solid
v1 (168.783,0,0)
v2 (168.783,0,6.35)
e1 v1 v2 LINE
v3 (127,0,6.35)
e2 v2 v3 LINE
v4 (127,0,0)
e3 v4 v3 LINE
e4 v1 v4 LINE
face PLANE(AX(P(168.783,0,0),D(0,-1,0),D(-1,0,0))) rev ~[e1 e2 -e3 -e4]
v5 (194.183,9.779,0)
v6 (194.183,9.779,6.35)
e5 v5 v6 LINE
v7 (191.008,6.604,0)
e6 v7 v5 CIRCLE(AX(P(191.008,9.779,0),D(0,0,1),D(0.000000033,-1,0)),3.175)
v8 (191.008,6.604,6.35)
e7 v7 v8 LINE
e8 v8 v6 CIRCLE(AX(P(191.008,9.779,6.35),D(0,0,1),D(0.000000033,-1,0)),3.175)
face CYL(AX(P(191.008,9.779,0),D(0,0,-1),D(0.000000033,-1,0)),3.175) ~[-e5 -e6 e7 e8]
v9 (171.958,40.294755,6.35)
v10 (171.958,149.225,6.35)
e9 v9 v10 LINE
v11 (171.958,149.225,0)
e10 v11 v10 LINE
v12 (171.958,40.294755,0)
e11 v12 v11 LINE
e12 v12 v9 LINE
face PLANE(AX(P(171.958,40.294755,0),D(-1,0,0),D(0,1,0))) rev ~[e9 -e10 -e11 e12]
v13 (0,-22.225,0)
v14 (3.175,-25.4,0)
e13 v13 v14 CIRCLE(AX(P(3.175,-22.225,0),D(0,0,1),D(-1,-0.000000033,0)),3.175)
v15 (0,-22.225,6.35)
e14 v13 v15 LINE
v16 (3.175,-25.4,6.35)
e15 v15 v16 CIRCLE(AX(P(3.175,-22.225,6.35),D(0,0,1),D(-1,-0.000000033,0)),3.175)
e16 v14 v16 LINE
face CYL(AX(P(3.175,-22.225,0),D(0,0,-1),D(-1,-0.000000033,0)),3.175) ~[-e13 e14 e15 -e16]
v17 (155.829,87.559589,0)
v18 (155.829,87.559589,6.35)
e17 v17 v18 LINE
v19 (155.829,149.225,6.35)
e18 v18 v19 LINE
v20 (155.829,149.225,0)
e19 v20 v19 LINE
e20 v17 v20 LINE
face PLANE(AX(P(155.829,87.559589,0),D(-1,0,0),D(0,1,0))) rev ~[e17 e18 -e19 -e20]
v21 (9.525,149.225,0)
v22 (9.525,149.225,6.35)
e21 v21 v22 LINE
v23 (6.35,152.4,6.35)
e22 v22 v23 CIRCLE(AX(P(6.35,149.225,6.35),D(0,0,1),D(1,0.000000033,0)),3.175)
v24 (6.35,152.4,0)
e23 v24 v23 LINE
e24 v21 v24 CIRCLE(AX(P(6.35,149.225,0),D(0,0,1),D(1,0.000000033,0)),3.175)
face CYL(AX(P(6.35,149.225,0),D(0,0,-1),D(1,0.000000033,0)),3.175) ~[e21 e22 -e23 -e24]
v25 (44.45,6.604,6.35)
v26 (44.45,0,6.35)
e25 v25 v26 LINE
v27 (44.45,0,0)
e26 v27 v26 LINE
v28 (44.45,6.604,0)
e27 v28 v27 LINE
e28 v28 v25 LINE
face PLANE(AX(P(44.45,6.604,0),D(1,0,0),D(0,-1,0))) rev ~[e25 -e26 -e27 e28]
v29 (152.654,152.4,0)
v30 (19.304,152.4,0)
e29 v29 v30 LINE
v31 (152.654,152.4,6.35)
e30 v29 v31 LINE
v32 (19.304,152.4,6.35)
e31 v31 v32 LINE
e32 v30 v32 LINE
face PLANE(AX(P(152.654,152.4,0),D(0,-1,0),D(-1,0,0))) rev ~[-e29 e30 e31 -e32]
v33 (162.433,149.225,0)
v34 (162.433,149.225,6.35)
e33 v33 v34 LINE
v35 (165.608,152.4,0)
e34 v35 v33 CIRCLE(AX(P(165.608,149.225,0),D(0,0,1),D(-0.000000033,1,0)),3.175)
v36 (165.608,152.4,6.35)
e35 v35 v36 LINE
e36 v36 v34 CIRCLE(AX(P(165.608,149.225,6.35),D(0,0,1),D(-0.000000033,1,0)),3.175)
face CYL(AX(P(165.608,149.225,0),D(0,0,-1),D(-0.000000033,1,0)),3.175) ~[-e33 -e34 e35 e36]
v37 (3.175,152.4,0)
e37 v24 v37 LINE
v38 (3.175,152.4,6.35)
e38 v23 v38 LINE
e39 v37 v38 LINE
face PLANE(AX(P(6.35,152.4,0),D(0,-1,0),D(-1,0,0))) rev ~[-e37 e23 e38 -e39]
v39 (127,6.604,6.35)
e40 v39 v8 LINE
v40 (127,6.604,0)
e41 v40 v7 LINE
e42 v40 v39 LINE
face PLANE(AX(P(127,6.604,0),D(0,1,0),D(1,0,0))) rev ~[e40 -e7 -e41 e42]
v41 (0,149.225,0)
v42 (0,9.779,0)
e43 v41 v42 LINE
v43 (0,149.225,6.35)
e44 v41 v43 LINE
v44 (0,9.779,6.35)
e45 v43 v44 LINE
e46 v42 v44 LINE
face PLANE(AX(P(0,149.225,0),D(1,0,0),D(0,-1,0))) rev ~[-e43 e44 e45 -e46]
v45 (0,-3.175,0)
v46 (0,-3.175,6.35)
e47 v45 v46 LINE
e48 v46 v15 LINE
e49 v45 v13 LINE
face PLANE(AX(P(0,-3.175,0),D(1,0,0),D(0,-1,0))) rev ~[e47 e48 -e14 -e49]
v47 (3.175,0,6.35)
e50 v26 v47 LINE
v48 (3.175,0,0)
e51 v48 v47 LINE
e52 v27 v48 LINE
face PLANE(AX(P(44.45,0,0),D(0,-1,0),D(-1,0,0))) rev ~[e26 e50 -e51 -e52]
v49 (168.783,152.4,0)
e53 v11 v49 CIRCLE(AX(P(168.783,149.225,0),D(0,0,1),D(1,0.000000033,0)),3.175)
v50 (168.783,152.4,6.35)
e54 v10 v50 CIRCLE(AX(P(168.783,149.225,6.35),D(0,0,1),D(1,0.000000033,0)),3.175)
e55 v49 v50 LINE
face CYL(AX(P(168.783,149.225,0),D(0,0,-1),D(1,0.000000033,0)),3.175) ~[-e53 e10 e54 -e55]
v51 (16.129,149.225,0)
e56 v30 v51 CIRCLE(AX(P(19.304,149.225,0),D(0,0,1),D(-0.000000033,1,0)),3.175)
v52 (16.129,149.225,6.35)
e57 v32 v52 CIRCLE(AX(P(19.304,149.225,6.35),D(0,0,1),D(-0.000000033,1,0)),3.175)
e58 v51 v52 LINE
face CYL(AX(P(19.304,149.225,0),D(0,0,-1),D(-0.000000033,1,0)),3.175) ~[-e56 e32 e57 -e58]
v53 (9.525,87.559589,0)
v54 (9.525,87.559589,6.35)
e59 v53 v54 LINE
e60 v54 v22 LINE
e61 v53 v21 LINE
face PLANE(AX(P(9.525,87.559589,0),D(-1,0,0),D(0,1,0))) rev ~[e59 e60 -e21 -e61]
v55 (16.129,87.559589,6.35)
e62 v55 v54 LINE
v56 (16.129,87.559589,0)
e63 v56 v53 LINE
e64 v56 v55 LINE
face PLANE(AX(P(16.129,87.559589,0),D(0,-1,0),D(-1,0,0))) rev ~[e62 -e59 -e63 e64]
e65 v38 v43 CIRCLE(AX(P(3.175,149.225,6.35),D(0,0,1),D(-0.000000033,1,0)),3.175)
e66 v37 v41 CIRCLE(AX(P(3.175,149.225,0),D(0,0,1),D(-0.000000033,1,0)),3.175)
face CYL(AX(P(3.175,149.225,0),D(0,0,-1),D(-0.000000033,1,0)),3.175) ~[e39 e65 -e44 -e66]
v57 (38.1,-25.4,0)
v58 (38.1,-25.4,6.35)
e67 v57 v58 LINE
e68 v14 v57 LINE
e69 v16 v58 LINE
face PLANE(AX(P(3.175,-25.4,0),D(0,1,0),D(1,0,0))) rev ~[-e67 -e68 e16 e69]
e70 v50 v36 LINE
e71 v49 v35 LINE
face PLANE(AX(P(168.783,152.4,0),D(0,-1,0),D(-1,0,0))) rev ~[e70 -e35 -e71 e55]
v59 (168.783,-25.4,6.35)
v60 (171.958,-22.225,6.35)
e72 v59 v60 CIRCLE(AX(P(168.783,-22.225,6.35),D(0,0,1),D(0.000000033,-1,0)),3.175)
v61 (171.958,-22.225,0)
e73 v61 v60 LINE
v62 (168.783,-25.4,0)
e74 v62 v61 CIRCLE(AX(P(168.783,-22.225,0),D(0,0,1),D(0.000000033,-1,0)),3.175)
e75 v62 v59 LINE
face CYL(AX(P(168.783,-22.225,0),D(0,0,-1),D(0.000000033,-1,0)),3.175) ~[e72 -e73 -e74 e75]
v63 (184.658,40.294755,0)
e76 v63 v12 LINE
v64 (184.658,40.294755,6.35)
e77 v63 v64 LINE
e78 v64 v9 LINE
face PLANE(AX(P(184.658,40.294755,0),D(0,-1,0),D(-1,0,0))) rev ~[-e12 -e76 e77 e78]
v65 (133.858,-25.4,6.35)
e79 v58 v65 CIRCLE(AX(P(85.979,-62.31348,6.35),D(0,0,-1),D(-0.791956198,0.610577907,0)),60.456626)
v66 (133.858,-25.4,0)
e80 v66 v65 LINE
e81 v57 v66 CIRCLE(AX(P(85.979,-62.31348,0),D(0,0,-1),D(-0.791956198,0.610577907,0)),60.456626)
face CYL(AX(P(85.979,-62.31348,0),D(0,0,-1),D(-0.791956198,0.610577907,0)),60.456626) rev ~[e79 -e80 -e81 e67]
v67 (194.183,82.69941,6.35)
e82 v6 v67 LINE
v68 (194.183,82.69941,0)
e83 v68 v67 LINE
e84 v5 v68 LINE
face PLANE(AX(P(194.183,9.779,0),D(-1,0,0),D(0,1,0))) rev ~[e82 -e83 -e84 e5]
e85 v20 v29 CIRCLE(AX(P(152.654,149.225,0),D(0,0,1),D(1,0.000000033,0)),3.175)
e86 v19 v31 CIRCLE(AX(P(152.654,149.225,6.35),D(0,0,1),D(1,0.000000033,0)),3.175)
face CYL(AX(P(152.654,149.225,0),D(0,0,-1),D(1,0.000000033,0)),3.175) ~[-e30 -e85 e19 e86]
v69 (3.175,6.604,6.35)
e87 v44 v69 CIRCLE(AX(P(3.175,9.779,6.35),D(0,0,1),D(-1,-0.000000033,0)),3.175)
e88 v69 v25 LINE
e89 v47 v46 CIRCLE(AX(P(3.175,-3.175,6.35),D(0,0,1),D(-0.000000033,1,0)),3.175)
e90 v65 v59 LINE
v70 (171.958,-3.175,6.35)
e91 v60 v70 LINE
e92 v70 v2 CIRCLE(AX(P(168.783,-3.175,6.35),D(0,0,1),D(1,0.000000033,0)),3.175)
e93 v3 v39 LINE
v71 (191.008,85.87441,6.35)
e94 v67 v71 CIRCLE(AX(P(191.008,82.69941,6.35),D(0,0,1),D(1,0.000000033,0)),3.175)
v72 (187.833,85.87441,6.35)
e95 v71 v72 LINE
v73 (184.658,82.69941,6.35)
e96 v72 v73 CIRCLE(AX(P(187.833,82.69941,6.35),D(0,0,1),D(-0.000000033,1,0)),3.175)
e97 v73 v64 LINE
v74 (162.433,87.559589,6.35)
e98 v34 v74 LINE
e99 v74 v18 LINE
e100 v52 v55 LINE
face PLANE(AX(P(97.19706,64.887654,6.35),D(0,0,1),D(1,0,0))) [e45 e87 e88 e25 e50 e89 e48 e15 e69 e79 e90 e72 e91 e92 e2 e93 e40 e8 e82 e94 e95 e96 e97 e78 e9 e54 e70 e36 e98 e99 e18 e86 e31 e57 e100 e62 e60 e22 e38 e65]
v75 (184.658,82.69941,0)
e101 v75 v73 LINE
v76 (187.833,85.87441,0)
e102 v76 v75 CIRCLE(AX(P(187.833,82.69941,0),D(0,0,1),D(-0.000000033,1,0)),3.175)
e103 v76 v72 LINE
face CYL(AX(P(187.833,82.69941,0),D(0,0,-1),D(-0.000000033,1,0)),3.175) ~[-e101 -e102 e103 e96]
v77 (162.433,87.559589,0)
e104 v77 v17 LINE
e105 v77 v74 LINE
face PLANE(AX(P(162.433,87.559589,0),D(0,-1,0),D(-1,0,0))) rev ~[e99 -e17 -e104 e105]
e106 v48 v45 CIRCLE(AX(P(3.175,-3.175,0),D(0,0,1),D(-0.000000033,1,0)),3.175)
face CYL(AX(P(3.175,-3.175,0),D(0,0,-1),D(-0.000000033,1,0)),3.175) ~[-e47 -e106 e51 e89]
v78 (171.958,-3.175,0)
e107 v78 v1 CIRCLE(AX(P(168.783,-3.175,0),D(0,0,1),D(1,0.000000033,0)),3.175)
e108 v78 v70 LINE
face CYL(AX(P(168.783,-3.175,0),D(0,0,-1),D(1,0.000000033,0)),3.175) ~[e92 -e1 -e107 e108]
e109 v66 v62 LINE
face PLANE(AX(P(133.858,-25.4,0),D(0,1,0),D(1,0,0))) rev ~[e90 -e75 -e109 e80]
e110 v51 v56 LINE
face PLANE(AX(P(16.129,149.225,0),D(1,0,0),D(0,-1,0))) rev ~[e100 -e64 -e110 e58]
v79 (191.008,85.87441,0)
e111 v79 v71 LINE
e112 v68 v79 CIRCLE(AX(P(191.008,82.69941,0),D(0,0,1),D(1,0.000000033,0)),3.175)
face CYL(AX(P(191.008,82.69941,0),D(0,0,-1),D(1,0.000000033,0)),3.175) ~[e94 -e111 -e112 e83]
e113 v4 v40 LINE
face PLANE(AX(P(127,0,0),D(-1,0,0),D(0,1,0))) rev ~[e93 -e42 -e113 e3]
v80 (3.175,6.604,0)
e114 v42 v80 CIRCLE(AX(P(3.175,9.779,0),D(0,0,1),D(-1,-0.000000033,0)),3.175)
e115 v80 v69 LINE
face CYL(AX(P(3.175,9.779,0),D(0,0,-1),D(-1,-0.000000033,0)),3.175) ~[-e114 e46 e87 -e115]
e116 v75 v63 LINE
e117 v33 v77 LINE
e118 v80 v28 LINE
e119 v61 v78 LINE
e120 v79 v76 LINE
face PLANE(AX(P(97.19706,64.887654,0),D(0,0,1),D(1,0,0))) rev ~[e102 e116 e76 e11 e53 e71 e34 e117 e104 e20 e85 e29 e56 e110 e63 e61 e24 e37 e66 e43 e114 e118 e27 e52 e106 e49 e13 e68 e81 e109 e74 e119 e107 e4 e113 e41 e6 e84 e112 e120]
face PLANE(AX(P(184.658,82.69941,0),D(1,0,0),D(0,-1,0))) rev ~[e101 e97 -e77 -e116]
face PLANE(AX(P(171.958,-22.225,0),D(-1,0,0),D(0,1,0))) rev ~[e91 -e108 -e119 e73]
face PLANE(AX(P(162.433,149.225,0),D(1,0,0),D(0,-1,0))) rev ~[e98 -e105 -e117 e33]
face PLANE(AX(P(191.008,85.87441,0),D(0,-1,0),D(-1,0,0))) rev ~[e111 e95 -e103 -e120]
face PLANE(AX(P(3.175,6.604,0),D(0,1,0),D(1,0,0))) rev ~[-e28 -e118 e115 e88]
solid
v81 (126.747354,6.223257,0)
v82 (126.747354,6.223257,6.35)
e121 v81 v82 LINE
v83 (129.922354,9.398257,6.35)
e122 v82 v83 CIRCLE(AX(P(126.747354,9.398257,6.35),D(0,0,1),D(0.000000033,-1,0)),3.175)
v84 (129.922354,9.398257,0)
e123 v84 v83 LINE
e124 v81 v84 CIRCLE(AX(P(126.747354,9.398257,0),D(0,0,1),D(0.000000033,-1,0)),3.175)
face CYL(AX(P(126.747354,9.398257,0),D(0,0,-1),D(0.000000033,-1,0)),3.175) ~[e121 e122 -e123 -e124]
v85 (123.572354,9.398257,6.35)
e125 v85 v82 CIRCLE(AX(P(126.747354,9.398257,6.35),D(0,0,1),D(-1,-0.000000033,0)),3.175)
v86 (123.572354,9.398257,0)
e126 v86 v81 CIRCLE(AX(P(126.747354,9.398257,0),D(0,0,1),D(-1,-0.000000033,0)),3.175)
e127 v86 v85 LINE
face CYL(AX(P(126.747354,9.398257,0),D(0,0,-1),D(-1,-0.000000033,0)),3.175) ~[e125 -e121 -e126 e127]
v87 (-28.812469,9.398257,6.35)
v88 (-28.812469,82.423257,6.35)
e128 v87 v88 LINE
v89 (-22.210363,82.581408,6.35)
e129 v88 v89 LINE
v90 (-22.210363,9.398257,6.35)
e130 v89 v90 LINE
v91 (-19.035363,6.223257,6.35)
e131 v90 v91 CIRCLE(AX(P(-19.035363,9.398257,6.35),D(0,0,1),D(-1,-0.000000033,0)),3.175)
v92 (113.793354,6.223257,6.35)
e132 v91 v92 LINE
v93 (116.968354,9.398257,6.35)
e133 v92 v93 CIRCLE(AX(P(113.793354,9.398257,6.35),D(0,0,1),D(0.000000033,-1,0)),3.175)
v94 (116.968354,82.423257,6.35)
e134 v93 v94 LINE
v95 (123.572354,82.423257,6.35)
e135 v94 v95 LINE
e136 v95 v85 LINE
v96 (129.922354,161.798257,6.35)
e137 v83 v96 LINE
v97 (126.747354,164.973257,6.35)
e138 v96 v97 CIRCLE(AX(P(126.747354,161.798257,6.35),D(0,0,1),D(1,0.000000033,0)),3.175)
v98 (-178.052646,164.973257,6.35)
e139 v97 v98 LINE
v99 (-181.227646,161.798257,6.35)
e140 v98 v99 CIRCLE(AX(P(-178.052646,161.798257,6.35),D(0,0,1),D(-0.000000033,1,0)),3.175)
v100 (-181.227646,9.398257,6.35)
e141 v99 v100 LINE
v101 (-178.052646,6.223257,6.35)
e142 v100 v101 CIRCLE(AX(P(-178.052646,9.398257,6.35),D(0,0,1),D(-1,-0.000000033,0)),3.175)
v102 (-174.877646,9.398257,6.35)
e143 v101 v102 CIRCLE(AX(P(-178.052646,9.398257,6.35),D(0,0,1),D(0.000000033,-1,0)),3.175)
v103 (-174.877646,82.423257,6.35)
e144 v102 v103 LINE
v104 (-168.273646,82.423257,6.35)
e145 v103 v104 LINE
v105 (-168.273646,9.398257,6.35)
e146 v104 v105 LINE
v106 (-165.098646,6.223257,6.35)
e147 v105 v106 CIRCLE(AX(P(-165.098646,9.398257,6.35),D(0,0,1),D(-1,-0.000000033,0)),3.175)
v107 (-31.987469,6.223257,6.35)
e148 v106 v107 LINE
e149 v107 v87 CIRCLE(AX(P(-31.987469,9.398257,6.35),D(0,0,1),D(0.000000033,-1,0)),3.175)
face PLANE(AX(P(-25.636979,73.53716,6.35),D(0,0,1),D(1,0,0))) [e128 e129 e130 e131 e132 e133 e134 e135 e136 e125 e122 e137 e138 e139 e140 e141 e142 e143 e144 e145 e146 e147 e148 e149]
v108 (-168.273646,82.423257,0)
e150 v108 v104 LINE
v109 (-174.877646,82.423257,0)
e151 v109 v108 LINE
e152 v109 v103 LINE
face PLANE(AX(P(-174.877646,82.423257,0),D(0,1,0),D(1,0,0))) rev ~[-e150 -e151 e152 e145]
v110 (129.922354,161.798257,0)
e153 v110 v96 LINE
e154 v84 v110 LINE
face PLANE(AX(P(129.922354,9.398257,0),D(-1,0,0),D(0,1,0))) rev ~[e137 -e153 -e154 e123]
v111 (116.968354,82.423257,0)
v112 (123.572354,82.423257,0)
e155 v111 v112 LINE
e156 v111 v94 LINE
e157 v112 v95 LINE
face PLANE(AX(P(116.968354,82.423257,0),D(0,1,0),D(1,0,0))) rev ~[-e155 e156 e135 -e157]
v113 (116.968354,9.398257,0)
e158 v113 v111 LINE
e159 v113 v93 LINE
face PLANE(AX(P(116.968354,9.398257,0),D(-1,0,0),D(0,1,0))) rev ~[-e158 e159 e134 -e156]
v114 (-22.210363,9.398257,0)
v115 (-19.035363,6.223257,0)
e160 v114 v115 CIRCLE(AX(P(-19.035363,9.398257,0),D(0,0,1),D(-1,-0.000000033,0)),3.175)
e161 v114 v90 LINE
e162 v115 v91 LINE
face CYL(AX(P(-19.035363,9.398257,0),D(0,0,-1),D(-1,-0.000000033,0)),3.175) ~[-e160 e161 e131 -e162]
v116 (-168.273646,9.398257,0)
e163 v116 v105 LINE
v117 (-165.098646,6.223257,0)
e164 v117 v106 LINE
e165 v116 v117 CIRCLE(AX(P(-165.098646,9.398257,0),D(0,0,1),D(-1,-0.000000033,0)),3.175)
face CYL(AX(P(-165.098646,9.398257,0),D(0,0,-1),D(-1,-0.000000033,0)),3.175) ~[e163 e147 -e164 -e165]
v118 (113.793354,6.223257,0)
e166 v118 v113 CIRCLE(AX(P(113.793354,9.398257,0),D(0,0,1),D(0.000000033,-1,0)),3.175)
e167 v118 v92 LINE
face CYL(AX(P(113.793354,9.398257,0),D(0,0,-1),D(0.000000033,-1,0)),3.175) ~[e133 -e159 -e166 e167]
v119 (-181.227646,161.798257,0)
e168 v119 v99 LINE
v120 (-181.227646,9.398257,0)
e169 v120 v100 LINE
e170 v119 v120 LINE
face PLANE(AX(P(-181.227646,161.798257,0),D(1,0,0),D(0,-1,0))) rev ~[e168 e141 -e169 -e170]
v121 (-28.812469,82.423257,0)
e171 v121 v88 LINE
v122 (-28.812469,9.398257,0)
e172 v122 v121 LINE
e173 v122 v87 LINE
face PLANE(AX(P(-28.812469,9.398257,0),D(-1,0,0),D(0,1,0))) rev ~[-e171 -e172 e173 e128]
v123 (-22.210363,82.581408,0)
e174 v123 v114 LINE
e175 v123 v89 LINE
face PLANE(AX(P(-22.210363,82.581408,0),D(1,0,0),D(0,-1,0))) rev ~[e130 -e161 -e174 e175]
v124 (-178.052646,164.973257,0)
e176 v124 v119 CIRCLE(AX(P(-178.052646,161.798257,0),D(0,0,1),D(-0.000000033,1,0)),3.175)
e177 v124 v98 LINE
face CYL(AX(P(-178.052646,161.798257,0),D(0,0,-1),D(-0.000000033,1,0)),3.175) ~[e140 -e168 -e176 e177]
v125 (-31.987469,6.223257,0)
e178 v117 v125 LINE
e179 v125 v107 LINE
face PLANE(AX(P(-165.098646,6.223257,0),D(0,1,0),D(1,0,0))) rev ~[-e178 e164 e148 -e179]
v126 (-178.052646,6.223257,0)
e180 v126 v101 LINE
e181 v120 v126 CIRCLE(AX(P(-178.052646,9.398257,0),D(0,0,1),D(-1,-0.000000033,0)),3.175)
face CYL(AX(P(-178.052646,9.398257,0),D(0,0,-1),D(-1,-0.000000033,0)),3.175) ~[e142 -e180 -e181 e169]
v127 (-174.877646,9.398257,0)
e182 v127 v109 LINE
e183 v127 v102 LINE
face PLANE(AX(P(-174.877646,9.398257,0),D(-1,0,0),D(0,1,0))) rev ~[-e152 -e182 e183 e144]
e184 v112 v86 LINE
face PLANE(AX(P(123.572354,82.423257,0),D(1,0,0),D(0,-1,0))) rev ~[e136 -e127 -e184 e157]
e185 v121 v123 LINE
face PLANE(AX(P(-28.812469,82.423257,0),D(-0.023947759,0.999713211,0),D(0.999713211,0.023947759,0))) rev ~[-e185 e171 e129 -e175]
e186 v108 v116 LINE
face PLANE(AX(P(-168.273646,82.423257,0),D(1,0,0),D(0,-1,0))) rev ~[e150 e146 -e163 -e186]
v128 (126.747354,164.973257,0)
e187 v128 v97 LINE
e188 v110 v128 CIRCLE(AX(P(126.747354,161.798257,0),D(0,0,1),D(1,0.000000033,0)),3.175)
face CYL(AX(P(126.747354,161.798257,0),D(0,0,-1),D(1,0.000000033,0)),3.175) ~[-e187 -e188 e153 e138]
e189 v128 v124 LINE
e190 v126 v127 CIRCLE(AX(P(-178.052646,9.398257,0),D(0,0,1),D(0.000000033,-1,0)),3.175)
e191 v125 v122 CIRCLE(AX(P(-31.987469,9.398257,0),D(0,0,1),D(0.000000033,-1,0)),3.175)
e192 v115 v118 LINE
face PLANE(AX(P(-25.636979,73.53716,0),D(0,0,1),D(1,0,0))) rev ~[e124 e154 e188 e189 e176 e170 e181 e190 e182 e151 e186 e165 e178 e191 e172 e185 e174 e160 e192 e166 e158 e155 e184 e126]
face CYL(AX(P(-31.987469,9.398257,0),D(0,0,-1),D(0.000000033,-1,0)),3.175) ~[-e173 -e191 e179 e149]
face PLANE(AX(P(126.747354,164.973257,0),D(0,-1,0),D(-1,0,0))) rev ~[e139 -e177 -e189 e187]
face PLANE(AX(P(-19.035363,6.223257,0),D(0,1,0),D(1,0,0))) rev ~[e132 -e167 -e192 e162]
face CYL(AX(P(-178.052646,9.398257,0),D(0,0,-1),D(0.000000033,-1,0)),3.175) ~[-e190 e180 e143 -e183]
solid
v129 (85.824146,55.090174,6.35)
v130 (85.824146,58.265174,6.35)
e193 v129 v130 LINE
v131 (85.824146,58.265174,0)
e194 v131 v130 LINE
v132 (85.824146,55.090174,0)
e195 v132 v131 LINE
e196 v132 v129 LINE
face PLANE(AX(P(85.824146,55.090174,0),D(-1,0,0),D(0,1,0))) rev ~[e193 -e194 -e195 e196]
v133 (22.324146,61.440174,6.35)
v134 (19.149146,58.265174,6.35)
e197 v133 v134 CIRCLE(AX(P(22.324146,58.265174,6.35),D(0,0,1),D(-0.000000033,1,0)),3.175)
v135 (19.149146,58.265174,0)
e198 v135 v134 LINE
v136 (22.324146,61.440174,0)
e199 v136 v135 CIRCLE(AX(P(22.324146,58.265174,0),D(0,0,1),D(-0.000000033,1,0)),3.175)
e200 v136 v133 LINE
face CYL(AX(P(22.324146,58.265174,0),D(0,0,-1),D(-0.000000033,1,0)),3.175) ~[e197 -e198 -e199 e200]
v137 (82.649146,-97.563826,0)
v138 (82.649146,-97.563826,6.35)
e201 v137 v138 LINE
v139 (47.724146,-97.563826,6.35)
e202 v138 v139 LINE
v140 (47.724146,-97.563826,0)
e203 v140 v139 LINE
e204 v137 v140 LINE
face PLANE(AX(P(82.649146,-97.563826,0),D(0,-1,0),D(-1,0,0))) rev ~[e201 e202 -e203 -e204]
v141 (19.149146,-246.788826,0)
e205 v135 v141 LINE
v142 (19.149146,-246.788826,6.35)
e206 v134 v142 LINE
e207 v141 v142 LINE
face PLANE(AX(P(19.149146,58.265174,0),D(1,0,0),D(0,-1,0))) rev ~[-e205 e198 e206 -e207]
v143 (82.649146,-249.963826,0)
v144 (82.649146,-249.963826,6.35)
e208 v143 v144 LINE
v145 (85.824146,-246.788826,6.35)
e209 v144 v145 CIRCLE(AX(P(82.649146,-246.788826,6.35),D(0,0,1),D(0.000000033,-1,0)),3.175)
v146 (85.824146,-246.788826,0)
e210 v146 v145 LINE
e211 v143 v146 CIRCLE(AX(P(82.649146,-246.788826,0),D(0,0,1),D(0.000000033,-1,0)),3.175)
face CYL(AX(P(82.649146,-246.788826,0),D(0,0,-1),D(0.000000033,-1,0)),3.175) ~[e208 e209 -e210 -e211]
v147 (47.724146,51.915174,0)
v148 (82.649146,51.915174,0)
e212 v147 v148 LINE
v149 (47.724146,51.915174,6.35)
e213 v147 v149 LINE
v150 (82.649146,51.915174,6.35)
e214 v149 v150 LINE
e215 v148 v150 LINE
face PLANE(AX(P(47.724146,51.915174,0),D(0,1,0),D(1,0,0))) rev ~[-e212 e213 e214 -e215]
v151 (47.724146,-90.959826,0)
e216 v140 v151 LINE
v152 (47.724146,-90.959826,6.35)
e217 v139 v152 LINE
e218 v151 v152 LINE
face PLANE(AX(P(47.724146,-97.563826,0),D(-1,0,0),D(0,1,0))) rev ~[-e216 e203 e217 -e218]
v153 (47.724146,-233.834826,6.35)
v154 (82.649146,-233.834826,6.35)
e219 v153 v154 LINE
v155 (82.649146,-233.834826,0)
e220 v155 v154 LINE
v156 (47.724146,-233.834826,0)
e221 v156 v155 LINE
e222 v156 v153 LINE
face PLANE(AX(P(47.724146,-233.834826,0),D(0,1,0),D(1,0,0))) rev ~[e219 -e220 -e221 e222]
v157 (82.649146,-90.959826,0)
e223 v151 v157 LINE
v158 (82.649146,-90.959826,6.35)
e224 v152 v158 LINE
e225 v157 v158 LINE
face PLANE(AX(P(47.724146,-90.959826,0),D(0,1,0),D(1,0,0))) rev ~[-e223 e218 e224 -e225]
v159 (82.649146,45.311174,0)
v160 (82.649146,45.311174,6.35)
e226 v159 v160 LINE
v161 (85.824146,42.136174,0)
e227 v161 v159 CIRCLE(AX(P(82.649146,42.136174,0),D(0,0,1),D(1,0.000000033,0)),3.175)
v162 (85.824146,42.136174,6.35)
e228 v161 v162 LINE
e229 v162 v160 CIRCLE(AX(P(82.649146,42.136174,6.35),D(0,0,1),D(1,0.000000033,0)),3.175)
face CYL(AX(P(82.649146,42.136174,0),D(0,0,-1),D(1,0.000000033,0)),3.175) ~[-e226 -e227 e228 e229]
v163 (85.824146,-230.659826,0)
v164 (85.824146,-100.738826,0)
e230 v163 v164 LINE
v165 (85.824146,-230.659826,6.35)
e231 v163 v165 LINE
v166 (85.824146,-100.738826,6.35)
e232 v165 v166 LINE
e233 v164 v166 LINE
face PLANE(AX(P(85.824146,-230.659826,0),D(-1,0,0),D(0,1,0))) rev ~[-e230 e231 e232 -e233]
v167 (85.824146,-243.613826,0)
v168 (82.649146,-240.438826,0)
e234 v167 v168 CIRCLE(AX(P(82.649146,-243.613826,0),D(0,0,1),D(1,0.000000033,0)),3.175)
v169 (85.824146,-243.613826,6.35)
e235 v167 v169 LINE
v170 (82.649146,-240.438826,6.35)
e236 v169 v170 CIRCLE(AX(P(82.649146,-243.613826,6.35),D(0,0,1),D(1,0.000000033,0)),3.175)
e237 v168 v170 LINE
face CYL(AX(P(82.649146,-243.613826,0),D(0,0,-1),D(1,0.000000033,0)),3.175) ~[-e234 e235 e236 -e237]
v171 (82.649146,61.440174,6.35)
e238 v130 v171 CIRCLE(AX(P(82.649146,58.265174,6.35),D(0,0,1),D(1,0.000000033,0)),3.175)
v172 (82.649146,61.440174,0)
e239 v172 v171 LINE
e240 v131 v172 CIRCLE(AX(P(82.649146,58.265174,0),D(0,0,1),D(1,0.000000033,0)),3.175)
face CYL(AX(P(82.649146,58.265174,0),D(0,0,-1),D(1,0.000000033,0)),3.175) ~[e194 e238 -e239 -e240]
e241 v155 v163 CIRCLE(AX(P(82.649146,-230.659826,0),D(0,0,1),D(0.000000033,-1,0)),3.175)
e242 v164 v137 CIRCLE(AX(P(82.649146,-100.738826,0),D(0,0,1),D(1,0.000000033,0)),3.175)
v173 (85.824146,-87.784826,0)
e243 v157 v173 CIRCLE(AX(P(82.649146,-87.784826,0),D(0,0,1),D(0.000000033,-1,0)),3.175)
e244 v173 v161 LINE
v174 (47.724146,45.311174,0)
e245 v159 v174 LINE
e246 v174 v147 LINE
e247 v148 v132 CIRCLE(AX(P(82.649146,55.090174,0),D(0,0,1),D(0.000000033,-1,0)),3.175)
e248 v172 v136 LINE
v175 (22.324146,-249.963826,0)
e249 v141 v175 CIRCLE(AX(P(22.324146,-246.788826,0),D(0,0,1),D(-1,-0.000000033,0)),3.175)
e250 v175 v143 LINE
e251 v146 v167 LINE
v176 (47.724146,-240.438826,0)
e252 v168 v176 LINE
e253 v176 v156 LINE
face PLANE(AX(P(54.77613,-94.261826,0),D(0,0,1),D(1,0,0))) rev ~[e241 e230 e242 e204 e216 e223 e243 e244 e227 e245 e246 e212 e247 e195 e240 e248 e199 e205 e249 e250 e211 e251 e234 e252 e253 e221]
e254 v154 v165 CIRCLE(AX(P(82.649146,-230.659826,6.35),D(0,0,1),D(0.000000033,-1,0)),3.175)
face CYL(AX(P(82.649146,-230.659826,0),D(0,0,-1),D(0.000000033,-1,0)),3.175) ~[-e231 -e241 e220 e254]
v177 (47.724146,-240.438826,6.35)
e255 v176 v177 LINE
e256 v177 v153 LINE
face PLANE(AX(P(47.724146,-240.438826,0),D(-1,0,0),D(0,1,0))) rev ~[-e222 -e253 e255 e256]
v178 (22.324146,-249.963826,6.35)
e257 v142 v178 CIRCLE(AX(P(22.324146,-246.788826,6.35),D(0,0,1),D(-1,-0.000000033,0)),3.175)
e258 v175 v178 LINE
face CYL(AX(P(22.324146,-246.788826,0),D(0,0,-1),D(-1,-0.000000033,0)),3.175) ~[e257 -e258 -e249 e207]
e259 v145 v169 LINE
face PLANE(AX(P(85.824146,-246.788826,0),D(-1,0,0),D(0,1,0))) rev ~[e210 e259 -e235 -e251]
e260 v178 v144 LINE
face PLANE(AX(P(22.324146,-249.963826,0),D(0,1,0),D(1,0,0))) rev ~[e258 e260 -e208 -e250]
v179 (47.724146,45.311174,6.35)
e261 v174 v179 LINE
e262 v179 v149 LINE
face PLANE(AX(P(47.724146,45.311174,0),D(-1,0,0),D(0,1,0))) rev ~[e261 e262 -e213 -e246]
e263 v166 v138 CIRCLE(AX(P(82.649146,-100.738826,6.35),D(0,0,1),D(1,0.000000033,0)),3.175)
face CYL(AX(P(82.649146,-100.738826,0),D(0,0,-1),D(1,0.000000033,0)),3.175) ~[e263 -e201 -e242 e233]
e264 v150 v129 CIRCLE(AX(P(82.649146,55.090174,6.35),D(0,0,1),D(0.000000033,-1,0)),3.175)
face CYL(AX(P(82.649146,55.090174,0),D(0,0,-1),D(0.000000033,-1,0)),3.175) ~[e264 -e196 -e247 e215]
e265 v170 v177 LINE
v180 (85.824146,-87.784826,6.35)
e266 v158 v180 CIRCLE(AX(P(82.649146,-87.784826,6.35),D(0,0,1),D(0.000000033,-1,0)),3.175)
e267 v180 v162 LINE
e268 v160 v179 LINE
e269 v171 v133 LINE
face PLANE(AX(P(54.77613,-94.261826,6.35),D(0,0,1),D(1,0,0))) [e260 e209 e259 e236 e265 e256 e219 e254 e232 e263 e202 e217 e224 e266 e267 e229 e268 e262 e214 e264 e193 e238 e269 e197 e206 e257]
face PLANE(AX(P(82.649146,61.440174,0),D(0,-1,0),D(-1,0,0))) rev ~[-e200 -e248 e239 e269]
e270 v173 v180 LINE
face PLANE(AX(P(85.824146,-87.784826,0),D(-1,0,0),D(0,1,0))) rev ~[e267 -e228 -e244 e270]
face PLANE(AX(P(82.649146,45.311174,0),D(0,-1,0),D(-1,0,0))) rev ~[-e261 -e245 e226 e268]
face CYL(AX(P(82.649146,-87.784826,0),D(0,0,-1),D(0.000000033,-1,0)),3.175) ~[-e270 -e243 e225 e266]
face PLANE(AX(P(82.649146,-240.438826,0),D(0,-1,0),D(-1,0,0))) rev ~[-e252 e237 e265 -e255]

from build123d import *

# Parameters (mm, degrees)
F3_DEPTH = 6.35
F4_DEPTH = 6.35
F5_DEPTH = 6.35
F6_DEPTH = 6.35


with BuildPart() as f3:
    # F1 (on Top) → F3 (new body)
    with BuildSketch(Plane.XY):
        with BuildLine():
            Line((82.649146, 61.440174), (22.324146, 61.440174))
            ThreePointArc((22.324146, 61.440174), (20.079082, 60.510238), (19.149146, 58.265174))
            Line((19.149146, 58.265174), (19.149146, -246.788826))
            ThreePointArc((19.149146, -246.788826), (20.079082, -249.03389), (22.324146, -249.963826))
            Line((22.324146, -249.963826), (82.649146, -249.963826))
            ThreePointArc((82.649146, -249.963826), (84.89421, -249.03389), (85.824146, -246.788826))
            Line((85.824146, -246.788826), (85.824146, -243.613826))
            ThreePointArc((85.824146, -243.613826), (84.89421, -241.368762), (82.649146, -240.438826))
            Line((82.649146, -240.438826), (47.724146, -240.438826))
            Line((47.724146, -240.438826), (47.724146, -233.834826))
            Line((47.724146, -233.834826), (82.649146, -233.834826))
            ThreePointArc((82.649146, -233.834826), (84.89421, -232.90489), (85.824146, -230.659826))
            Line((85.824146, -230.659826), (85.824146, -100.738826))
            ThreePointArc((85.824146, -100.738826), (84.89421, -98.493762), (82.649146, -97.563826))
            Line((82.649146, -97.563826), (47.724146, -97.563826))
            Line((47.724146, -97.563826), (47.724146, -90.959826))
            Line((47.724146, -90.959826), (82.649146, -90.959826))
            ThreePointArc((82.649146, -90.959826), (84.89421, -90.02989), (85.824146, -87.784826))
            Line((85.824146, -87.784826), (85.824146, 42.136174))
            ThreePointArc((85.824146, 42.136174), (84.89421, 44.381238), (82.649146, 45.311174))
            Line((82.649146, 45.311174), (47.724146, 45.311174))
            Line((47.724146, 45.311174), (47.724146, 51.915174))
            Line((47.724146, 51.915174), (82.649146, 51.915174))
            ThreePointArc((82.649146, 51.915174), (84.89421, 52.84511), (85.824146, 55.090174))
            Line((85.824146, 55.090174), (85.824146, 58.265174))
            ThreePointArc((85.824146, 58.265174), (84.89421, 60.510238), (82.649146, 61.440174))
        make_face()
    extrude(amount=F3_DEPTH)

    # F1 (on Top) → F4 (join)
    with BuildSketch(Plane.XY):
        with BuildLine():
            Line((82.649146, 61.440174), (22.324146, 61.440174))
            ThreePointArc((22.324146, 61.440174), (20.079082, 60.510238), (19.149146, 58.265174))
            Line((19.149146, 58.265174), (19.149146, -246.788826))
            ThreePointArc((19.149146, -246.788826), (20.079082, -249.03389), (22.324146, -249.963826))
            Line((22.324146, -249.963826), (82.649146, -249.963826))
            ThreePointArc((82.649146, -249.963826), (84.89421, -249.03389), (85.824146, -246.788826))
            Line((85.824146, -246.788826), (85.824146, -243.613826))
            ThreePointArc((85.824146, -243.613826), (84.89421, -241.368762), (82.649146, -240.438826))
            Line((82.649146, -240.438826), (47.724146, -240.438826))
            Line((47.724146, -240.438826), (47.724146, -233.834826))
            Line((47.724146, -233.834826), (82.649146, -233.834826))
            ThreePointArc((82.649146, -233.834826), (84.89421, -232.90489), (85.824146, -230.659826))
            Line((85.824146, -230.659826), (85.824146, -100.738826))
            ThreePointArc((85.824146, -100.738826), (84.89421, -98.493762), (82.649146, -97.563826))
            Line((82.649146, -97.563826), (47.724146, -97.563826))
            Line((47.724146, -97.563826), (47.724146, -90.959826))
            Line((47.724146, -90.959826), (82.649146, -90.959826))
            ThreePointArc((82.649146, -90.959826), (84.89421, -90.02989), (85.824146, -87.784826))
            Line((85.824146, -87.784826), (85.824146, 42.136174))
            ThreePointArc((85.824146, 42.136174), (84.89421, 44.381238), (82.649146, 45.311174))
            Line((82.649146, 45.311174), (47.724146, 45.311174))
            Line((47.724146, 45.311174), (47.724146, 51.915174))
            Line((47.724146, 51.915174), (82.649146, 51.915174))
            ThreePointArc((82.649146, 51.915174), (84.89421, 52.84511), (85.824146, 55.090174))
            Line((85.824146, 55.090174), (85.824146, 58.265174))
            ThreePointArc((85.824146, 58.265174), (84.89421, 60.510238), (82.649146, 61.440174))
        make_face()
    extrude(amount=F4_DEPTH)


with BuildPart() as f5:
    # F2 (on Top) → F5 (new body)
    with BuildSketch(Plane.XY):
        with BuildLine():
            ThreePointArc((129.922354, 161.798257), (128.992418, 164.043321), (126.747354, 164.973257))
            Line((126.747354, 164.973257), (-178.052646, 164.973257))
            ThreePointArc((-178.052646, 164.973257), (-180.29771, 164.043321), (-181.227646, 161.798257))
            Line((-181.227646, 161.798257), (-181.227646, 9.398257))
            ThreePointArc((-181.227646, 9.398257), (-180.29771, 7.153193), (-178.052646, 6.223257))
            ThreePointArc((-178.052646, 6.223257), (-175.807582, 7.153193), (-174.877646, 9.398257))
            Line((-174.877646, 9.398257), (-174.877646, 82.423257))
            Line((-174.877646, 82.423257), (-168.273646, 82.423257))
            Line((-168.273646, 82.423257), (-168.273646, 9.398257))
            ThreePointArc((-168.273646, 9.398257), (-167.34371, 7.153193), (-165.098646, 6.223257))
            Line((-165.098646, 6.223257), (-31.987469, 6.223257))
            ThreePointArc((-31.987469, 6.223257), (-29.742405, 7.153193), (-28.812469, 9.398257))
            Line((-28.812469, 9.398257), (-28.812469, 82.423257))
            Line((-28.812469, 82.423257), (-22.210363, 82.581408))
            Line((-22.210363, 82.581408), (-22.210363, 9.398257))
            ThreePointArc((-22.210363, 9.398257), (-21.280427, 7.153193), (-19.035363, 6.223257))
            Line((-19.035363, 6.223257), (113.793354, 6.223257))
            ThreePointArc((113.793354, 6.223257), (116.038418, 7.153193), (116.968354, 9.398257))
            Line((116.968354, 9.398257), (116.968354, 82.423257))
            Line((116.968354, 82.423257), (123.572354, 82.423257))
            Line((123.572354, 82.423257), (123.572354, 9.398257))
            ThreePointArc((123.572354, 9.398257), (124.50229, 7.153193), (126.747354, 6.223257))
            ThreePointArc((126.747354, 6.223257), (128.992418, 7.153193), (129.922354, 9.398257))
            Line((129.922354, 9.398257), (129.922354, 161.798257))
        make_face()
    extrude(amount=F5_DEPTH)


with BuildPart() as f6:
    # F0 (on Top) → F6 (new body)
    with BuildSketch(Plane.XY):
        with BuildLine():
            Line((0, 149.225), (0, 9.779))
            ThreePointArc((0, 9.779), (0.929936, 7.533936), (3.175, 6.604))
            Line((3.175, 6.604), (44.45, 6.604))
            Line((44.45, 6.604), (44.45, 0))
            Line((44.45, 0), (3.175, 0))
            ThreePointArc((3.175, 0), (0.929936, -0.929936), (0, -3.175))
            Line((0, -3.175), (0, -22.225))
            ThreePointArc((0, -22.225), (0.929936, -24.470064), (3.175, -25.4))
            Line((3.175, -25.4), (38.1, -25.4))
            ThreePointArc((38.1, -25.4), (85.979, -1.856854), (133.858, -25.4))
            Line((133.858, -25.4), (168.783, -25.4))
            ThreePointArc((168.783, -25.4), (171.028064, -24.470064), (171.958, -22.225))
            Line((171.958, -22.225), (171.958, -3.175))
            ThreePointArc((171.958, -3.175), (171.028064, -0.929936), (168.783, 0))
            Line((168.783, 0), (127, 0))
            Line((127, 0), (127, 6.604))
            Line((127, 6.604), (171.958, 6.604))
            Line((171.958, 6.604), (191.008, 6.604))
            ThreePointArc((191.008, 6.604), (193.253064, 7.533936), (194.183, 9.779))
            Line((194.183, 9.779), (194.183, 82.69941))
            ThreePointArc((194.183, 82.69941), (193.253064, 84.944474), (191.008, 85.87441))
            Line((191.008, 85.87441), (187.833, 85.87441))
            ThreePointArc((187.833, 85.87441), (185.587936, 84.944474), (184.658, 82.69941))
            Line((184.658, 82.69941), (184.658, 40.294755))
            Line((184.658, 40.294755), (171.958, 40.294755))
            Line((171.958, 40.294755), (171.958, 149.225))
            ThreePointArc((171.958, 149.225), (171.028064, 151.470064), (168.783, 152.4))
            Line((168.783, 152.4), (165.608, 152.4))
            ThreePointArc((165.608, 152.4), (163.362936, 151.470064), (162.433, 149.225))
            Line((162.433, 149.225), (162.433, 87.559589))
            Line((162.433, 87.559589), (155.829, 87.559589))
            Line((155.829, 87.559589), (155.829, 149.225))
            ThreePointArc((155.829, 149.225), (154.899064, 151.470064), (152.654, 152.4))
            Line((152.654, 152.4), (19.304, 152.4))
            ThreePointArc((19.304, 152.4), (17.058936, 151.470064), (16.129, 149.225))
            Line((16.129, 149.225), (16.129, 87.559589))
            Line((16.129, 87.559589), (9.525, 87.559589))
            Line((9.525, 87.559589), (9.525, 149.225))
            ThreePointArc((9.525, 149.225), (8.595064, 151.470064), (6.35, 152.4))
            Line((6.35, 152.4), (3.175, 152.4))
            ThreePointArc((3.175, 152.4), (0.929936, 151.470064), (0, 149.225))
        make_face()
    extrude(amount=F6_DEPTH)


solid = Compound([f3.part, f5.part, f6.part])
